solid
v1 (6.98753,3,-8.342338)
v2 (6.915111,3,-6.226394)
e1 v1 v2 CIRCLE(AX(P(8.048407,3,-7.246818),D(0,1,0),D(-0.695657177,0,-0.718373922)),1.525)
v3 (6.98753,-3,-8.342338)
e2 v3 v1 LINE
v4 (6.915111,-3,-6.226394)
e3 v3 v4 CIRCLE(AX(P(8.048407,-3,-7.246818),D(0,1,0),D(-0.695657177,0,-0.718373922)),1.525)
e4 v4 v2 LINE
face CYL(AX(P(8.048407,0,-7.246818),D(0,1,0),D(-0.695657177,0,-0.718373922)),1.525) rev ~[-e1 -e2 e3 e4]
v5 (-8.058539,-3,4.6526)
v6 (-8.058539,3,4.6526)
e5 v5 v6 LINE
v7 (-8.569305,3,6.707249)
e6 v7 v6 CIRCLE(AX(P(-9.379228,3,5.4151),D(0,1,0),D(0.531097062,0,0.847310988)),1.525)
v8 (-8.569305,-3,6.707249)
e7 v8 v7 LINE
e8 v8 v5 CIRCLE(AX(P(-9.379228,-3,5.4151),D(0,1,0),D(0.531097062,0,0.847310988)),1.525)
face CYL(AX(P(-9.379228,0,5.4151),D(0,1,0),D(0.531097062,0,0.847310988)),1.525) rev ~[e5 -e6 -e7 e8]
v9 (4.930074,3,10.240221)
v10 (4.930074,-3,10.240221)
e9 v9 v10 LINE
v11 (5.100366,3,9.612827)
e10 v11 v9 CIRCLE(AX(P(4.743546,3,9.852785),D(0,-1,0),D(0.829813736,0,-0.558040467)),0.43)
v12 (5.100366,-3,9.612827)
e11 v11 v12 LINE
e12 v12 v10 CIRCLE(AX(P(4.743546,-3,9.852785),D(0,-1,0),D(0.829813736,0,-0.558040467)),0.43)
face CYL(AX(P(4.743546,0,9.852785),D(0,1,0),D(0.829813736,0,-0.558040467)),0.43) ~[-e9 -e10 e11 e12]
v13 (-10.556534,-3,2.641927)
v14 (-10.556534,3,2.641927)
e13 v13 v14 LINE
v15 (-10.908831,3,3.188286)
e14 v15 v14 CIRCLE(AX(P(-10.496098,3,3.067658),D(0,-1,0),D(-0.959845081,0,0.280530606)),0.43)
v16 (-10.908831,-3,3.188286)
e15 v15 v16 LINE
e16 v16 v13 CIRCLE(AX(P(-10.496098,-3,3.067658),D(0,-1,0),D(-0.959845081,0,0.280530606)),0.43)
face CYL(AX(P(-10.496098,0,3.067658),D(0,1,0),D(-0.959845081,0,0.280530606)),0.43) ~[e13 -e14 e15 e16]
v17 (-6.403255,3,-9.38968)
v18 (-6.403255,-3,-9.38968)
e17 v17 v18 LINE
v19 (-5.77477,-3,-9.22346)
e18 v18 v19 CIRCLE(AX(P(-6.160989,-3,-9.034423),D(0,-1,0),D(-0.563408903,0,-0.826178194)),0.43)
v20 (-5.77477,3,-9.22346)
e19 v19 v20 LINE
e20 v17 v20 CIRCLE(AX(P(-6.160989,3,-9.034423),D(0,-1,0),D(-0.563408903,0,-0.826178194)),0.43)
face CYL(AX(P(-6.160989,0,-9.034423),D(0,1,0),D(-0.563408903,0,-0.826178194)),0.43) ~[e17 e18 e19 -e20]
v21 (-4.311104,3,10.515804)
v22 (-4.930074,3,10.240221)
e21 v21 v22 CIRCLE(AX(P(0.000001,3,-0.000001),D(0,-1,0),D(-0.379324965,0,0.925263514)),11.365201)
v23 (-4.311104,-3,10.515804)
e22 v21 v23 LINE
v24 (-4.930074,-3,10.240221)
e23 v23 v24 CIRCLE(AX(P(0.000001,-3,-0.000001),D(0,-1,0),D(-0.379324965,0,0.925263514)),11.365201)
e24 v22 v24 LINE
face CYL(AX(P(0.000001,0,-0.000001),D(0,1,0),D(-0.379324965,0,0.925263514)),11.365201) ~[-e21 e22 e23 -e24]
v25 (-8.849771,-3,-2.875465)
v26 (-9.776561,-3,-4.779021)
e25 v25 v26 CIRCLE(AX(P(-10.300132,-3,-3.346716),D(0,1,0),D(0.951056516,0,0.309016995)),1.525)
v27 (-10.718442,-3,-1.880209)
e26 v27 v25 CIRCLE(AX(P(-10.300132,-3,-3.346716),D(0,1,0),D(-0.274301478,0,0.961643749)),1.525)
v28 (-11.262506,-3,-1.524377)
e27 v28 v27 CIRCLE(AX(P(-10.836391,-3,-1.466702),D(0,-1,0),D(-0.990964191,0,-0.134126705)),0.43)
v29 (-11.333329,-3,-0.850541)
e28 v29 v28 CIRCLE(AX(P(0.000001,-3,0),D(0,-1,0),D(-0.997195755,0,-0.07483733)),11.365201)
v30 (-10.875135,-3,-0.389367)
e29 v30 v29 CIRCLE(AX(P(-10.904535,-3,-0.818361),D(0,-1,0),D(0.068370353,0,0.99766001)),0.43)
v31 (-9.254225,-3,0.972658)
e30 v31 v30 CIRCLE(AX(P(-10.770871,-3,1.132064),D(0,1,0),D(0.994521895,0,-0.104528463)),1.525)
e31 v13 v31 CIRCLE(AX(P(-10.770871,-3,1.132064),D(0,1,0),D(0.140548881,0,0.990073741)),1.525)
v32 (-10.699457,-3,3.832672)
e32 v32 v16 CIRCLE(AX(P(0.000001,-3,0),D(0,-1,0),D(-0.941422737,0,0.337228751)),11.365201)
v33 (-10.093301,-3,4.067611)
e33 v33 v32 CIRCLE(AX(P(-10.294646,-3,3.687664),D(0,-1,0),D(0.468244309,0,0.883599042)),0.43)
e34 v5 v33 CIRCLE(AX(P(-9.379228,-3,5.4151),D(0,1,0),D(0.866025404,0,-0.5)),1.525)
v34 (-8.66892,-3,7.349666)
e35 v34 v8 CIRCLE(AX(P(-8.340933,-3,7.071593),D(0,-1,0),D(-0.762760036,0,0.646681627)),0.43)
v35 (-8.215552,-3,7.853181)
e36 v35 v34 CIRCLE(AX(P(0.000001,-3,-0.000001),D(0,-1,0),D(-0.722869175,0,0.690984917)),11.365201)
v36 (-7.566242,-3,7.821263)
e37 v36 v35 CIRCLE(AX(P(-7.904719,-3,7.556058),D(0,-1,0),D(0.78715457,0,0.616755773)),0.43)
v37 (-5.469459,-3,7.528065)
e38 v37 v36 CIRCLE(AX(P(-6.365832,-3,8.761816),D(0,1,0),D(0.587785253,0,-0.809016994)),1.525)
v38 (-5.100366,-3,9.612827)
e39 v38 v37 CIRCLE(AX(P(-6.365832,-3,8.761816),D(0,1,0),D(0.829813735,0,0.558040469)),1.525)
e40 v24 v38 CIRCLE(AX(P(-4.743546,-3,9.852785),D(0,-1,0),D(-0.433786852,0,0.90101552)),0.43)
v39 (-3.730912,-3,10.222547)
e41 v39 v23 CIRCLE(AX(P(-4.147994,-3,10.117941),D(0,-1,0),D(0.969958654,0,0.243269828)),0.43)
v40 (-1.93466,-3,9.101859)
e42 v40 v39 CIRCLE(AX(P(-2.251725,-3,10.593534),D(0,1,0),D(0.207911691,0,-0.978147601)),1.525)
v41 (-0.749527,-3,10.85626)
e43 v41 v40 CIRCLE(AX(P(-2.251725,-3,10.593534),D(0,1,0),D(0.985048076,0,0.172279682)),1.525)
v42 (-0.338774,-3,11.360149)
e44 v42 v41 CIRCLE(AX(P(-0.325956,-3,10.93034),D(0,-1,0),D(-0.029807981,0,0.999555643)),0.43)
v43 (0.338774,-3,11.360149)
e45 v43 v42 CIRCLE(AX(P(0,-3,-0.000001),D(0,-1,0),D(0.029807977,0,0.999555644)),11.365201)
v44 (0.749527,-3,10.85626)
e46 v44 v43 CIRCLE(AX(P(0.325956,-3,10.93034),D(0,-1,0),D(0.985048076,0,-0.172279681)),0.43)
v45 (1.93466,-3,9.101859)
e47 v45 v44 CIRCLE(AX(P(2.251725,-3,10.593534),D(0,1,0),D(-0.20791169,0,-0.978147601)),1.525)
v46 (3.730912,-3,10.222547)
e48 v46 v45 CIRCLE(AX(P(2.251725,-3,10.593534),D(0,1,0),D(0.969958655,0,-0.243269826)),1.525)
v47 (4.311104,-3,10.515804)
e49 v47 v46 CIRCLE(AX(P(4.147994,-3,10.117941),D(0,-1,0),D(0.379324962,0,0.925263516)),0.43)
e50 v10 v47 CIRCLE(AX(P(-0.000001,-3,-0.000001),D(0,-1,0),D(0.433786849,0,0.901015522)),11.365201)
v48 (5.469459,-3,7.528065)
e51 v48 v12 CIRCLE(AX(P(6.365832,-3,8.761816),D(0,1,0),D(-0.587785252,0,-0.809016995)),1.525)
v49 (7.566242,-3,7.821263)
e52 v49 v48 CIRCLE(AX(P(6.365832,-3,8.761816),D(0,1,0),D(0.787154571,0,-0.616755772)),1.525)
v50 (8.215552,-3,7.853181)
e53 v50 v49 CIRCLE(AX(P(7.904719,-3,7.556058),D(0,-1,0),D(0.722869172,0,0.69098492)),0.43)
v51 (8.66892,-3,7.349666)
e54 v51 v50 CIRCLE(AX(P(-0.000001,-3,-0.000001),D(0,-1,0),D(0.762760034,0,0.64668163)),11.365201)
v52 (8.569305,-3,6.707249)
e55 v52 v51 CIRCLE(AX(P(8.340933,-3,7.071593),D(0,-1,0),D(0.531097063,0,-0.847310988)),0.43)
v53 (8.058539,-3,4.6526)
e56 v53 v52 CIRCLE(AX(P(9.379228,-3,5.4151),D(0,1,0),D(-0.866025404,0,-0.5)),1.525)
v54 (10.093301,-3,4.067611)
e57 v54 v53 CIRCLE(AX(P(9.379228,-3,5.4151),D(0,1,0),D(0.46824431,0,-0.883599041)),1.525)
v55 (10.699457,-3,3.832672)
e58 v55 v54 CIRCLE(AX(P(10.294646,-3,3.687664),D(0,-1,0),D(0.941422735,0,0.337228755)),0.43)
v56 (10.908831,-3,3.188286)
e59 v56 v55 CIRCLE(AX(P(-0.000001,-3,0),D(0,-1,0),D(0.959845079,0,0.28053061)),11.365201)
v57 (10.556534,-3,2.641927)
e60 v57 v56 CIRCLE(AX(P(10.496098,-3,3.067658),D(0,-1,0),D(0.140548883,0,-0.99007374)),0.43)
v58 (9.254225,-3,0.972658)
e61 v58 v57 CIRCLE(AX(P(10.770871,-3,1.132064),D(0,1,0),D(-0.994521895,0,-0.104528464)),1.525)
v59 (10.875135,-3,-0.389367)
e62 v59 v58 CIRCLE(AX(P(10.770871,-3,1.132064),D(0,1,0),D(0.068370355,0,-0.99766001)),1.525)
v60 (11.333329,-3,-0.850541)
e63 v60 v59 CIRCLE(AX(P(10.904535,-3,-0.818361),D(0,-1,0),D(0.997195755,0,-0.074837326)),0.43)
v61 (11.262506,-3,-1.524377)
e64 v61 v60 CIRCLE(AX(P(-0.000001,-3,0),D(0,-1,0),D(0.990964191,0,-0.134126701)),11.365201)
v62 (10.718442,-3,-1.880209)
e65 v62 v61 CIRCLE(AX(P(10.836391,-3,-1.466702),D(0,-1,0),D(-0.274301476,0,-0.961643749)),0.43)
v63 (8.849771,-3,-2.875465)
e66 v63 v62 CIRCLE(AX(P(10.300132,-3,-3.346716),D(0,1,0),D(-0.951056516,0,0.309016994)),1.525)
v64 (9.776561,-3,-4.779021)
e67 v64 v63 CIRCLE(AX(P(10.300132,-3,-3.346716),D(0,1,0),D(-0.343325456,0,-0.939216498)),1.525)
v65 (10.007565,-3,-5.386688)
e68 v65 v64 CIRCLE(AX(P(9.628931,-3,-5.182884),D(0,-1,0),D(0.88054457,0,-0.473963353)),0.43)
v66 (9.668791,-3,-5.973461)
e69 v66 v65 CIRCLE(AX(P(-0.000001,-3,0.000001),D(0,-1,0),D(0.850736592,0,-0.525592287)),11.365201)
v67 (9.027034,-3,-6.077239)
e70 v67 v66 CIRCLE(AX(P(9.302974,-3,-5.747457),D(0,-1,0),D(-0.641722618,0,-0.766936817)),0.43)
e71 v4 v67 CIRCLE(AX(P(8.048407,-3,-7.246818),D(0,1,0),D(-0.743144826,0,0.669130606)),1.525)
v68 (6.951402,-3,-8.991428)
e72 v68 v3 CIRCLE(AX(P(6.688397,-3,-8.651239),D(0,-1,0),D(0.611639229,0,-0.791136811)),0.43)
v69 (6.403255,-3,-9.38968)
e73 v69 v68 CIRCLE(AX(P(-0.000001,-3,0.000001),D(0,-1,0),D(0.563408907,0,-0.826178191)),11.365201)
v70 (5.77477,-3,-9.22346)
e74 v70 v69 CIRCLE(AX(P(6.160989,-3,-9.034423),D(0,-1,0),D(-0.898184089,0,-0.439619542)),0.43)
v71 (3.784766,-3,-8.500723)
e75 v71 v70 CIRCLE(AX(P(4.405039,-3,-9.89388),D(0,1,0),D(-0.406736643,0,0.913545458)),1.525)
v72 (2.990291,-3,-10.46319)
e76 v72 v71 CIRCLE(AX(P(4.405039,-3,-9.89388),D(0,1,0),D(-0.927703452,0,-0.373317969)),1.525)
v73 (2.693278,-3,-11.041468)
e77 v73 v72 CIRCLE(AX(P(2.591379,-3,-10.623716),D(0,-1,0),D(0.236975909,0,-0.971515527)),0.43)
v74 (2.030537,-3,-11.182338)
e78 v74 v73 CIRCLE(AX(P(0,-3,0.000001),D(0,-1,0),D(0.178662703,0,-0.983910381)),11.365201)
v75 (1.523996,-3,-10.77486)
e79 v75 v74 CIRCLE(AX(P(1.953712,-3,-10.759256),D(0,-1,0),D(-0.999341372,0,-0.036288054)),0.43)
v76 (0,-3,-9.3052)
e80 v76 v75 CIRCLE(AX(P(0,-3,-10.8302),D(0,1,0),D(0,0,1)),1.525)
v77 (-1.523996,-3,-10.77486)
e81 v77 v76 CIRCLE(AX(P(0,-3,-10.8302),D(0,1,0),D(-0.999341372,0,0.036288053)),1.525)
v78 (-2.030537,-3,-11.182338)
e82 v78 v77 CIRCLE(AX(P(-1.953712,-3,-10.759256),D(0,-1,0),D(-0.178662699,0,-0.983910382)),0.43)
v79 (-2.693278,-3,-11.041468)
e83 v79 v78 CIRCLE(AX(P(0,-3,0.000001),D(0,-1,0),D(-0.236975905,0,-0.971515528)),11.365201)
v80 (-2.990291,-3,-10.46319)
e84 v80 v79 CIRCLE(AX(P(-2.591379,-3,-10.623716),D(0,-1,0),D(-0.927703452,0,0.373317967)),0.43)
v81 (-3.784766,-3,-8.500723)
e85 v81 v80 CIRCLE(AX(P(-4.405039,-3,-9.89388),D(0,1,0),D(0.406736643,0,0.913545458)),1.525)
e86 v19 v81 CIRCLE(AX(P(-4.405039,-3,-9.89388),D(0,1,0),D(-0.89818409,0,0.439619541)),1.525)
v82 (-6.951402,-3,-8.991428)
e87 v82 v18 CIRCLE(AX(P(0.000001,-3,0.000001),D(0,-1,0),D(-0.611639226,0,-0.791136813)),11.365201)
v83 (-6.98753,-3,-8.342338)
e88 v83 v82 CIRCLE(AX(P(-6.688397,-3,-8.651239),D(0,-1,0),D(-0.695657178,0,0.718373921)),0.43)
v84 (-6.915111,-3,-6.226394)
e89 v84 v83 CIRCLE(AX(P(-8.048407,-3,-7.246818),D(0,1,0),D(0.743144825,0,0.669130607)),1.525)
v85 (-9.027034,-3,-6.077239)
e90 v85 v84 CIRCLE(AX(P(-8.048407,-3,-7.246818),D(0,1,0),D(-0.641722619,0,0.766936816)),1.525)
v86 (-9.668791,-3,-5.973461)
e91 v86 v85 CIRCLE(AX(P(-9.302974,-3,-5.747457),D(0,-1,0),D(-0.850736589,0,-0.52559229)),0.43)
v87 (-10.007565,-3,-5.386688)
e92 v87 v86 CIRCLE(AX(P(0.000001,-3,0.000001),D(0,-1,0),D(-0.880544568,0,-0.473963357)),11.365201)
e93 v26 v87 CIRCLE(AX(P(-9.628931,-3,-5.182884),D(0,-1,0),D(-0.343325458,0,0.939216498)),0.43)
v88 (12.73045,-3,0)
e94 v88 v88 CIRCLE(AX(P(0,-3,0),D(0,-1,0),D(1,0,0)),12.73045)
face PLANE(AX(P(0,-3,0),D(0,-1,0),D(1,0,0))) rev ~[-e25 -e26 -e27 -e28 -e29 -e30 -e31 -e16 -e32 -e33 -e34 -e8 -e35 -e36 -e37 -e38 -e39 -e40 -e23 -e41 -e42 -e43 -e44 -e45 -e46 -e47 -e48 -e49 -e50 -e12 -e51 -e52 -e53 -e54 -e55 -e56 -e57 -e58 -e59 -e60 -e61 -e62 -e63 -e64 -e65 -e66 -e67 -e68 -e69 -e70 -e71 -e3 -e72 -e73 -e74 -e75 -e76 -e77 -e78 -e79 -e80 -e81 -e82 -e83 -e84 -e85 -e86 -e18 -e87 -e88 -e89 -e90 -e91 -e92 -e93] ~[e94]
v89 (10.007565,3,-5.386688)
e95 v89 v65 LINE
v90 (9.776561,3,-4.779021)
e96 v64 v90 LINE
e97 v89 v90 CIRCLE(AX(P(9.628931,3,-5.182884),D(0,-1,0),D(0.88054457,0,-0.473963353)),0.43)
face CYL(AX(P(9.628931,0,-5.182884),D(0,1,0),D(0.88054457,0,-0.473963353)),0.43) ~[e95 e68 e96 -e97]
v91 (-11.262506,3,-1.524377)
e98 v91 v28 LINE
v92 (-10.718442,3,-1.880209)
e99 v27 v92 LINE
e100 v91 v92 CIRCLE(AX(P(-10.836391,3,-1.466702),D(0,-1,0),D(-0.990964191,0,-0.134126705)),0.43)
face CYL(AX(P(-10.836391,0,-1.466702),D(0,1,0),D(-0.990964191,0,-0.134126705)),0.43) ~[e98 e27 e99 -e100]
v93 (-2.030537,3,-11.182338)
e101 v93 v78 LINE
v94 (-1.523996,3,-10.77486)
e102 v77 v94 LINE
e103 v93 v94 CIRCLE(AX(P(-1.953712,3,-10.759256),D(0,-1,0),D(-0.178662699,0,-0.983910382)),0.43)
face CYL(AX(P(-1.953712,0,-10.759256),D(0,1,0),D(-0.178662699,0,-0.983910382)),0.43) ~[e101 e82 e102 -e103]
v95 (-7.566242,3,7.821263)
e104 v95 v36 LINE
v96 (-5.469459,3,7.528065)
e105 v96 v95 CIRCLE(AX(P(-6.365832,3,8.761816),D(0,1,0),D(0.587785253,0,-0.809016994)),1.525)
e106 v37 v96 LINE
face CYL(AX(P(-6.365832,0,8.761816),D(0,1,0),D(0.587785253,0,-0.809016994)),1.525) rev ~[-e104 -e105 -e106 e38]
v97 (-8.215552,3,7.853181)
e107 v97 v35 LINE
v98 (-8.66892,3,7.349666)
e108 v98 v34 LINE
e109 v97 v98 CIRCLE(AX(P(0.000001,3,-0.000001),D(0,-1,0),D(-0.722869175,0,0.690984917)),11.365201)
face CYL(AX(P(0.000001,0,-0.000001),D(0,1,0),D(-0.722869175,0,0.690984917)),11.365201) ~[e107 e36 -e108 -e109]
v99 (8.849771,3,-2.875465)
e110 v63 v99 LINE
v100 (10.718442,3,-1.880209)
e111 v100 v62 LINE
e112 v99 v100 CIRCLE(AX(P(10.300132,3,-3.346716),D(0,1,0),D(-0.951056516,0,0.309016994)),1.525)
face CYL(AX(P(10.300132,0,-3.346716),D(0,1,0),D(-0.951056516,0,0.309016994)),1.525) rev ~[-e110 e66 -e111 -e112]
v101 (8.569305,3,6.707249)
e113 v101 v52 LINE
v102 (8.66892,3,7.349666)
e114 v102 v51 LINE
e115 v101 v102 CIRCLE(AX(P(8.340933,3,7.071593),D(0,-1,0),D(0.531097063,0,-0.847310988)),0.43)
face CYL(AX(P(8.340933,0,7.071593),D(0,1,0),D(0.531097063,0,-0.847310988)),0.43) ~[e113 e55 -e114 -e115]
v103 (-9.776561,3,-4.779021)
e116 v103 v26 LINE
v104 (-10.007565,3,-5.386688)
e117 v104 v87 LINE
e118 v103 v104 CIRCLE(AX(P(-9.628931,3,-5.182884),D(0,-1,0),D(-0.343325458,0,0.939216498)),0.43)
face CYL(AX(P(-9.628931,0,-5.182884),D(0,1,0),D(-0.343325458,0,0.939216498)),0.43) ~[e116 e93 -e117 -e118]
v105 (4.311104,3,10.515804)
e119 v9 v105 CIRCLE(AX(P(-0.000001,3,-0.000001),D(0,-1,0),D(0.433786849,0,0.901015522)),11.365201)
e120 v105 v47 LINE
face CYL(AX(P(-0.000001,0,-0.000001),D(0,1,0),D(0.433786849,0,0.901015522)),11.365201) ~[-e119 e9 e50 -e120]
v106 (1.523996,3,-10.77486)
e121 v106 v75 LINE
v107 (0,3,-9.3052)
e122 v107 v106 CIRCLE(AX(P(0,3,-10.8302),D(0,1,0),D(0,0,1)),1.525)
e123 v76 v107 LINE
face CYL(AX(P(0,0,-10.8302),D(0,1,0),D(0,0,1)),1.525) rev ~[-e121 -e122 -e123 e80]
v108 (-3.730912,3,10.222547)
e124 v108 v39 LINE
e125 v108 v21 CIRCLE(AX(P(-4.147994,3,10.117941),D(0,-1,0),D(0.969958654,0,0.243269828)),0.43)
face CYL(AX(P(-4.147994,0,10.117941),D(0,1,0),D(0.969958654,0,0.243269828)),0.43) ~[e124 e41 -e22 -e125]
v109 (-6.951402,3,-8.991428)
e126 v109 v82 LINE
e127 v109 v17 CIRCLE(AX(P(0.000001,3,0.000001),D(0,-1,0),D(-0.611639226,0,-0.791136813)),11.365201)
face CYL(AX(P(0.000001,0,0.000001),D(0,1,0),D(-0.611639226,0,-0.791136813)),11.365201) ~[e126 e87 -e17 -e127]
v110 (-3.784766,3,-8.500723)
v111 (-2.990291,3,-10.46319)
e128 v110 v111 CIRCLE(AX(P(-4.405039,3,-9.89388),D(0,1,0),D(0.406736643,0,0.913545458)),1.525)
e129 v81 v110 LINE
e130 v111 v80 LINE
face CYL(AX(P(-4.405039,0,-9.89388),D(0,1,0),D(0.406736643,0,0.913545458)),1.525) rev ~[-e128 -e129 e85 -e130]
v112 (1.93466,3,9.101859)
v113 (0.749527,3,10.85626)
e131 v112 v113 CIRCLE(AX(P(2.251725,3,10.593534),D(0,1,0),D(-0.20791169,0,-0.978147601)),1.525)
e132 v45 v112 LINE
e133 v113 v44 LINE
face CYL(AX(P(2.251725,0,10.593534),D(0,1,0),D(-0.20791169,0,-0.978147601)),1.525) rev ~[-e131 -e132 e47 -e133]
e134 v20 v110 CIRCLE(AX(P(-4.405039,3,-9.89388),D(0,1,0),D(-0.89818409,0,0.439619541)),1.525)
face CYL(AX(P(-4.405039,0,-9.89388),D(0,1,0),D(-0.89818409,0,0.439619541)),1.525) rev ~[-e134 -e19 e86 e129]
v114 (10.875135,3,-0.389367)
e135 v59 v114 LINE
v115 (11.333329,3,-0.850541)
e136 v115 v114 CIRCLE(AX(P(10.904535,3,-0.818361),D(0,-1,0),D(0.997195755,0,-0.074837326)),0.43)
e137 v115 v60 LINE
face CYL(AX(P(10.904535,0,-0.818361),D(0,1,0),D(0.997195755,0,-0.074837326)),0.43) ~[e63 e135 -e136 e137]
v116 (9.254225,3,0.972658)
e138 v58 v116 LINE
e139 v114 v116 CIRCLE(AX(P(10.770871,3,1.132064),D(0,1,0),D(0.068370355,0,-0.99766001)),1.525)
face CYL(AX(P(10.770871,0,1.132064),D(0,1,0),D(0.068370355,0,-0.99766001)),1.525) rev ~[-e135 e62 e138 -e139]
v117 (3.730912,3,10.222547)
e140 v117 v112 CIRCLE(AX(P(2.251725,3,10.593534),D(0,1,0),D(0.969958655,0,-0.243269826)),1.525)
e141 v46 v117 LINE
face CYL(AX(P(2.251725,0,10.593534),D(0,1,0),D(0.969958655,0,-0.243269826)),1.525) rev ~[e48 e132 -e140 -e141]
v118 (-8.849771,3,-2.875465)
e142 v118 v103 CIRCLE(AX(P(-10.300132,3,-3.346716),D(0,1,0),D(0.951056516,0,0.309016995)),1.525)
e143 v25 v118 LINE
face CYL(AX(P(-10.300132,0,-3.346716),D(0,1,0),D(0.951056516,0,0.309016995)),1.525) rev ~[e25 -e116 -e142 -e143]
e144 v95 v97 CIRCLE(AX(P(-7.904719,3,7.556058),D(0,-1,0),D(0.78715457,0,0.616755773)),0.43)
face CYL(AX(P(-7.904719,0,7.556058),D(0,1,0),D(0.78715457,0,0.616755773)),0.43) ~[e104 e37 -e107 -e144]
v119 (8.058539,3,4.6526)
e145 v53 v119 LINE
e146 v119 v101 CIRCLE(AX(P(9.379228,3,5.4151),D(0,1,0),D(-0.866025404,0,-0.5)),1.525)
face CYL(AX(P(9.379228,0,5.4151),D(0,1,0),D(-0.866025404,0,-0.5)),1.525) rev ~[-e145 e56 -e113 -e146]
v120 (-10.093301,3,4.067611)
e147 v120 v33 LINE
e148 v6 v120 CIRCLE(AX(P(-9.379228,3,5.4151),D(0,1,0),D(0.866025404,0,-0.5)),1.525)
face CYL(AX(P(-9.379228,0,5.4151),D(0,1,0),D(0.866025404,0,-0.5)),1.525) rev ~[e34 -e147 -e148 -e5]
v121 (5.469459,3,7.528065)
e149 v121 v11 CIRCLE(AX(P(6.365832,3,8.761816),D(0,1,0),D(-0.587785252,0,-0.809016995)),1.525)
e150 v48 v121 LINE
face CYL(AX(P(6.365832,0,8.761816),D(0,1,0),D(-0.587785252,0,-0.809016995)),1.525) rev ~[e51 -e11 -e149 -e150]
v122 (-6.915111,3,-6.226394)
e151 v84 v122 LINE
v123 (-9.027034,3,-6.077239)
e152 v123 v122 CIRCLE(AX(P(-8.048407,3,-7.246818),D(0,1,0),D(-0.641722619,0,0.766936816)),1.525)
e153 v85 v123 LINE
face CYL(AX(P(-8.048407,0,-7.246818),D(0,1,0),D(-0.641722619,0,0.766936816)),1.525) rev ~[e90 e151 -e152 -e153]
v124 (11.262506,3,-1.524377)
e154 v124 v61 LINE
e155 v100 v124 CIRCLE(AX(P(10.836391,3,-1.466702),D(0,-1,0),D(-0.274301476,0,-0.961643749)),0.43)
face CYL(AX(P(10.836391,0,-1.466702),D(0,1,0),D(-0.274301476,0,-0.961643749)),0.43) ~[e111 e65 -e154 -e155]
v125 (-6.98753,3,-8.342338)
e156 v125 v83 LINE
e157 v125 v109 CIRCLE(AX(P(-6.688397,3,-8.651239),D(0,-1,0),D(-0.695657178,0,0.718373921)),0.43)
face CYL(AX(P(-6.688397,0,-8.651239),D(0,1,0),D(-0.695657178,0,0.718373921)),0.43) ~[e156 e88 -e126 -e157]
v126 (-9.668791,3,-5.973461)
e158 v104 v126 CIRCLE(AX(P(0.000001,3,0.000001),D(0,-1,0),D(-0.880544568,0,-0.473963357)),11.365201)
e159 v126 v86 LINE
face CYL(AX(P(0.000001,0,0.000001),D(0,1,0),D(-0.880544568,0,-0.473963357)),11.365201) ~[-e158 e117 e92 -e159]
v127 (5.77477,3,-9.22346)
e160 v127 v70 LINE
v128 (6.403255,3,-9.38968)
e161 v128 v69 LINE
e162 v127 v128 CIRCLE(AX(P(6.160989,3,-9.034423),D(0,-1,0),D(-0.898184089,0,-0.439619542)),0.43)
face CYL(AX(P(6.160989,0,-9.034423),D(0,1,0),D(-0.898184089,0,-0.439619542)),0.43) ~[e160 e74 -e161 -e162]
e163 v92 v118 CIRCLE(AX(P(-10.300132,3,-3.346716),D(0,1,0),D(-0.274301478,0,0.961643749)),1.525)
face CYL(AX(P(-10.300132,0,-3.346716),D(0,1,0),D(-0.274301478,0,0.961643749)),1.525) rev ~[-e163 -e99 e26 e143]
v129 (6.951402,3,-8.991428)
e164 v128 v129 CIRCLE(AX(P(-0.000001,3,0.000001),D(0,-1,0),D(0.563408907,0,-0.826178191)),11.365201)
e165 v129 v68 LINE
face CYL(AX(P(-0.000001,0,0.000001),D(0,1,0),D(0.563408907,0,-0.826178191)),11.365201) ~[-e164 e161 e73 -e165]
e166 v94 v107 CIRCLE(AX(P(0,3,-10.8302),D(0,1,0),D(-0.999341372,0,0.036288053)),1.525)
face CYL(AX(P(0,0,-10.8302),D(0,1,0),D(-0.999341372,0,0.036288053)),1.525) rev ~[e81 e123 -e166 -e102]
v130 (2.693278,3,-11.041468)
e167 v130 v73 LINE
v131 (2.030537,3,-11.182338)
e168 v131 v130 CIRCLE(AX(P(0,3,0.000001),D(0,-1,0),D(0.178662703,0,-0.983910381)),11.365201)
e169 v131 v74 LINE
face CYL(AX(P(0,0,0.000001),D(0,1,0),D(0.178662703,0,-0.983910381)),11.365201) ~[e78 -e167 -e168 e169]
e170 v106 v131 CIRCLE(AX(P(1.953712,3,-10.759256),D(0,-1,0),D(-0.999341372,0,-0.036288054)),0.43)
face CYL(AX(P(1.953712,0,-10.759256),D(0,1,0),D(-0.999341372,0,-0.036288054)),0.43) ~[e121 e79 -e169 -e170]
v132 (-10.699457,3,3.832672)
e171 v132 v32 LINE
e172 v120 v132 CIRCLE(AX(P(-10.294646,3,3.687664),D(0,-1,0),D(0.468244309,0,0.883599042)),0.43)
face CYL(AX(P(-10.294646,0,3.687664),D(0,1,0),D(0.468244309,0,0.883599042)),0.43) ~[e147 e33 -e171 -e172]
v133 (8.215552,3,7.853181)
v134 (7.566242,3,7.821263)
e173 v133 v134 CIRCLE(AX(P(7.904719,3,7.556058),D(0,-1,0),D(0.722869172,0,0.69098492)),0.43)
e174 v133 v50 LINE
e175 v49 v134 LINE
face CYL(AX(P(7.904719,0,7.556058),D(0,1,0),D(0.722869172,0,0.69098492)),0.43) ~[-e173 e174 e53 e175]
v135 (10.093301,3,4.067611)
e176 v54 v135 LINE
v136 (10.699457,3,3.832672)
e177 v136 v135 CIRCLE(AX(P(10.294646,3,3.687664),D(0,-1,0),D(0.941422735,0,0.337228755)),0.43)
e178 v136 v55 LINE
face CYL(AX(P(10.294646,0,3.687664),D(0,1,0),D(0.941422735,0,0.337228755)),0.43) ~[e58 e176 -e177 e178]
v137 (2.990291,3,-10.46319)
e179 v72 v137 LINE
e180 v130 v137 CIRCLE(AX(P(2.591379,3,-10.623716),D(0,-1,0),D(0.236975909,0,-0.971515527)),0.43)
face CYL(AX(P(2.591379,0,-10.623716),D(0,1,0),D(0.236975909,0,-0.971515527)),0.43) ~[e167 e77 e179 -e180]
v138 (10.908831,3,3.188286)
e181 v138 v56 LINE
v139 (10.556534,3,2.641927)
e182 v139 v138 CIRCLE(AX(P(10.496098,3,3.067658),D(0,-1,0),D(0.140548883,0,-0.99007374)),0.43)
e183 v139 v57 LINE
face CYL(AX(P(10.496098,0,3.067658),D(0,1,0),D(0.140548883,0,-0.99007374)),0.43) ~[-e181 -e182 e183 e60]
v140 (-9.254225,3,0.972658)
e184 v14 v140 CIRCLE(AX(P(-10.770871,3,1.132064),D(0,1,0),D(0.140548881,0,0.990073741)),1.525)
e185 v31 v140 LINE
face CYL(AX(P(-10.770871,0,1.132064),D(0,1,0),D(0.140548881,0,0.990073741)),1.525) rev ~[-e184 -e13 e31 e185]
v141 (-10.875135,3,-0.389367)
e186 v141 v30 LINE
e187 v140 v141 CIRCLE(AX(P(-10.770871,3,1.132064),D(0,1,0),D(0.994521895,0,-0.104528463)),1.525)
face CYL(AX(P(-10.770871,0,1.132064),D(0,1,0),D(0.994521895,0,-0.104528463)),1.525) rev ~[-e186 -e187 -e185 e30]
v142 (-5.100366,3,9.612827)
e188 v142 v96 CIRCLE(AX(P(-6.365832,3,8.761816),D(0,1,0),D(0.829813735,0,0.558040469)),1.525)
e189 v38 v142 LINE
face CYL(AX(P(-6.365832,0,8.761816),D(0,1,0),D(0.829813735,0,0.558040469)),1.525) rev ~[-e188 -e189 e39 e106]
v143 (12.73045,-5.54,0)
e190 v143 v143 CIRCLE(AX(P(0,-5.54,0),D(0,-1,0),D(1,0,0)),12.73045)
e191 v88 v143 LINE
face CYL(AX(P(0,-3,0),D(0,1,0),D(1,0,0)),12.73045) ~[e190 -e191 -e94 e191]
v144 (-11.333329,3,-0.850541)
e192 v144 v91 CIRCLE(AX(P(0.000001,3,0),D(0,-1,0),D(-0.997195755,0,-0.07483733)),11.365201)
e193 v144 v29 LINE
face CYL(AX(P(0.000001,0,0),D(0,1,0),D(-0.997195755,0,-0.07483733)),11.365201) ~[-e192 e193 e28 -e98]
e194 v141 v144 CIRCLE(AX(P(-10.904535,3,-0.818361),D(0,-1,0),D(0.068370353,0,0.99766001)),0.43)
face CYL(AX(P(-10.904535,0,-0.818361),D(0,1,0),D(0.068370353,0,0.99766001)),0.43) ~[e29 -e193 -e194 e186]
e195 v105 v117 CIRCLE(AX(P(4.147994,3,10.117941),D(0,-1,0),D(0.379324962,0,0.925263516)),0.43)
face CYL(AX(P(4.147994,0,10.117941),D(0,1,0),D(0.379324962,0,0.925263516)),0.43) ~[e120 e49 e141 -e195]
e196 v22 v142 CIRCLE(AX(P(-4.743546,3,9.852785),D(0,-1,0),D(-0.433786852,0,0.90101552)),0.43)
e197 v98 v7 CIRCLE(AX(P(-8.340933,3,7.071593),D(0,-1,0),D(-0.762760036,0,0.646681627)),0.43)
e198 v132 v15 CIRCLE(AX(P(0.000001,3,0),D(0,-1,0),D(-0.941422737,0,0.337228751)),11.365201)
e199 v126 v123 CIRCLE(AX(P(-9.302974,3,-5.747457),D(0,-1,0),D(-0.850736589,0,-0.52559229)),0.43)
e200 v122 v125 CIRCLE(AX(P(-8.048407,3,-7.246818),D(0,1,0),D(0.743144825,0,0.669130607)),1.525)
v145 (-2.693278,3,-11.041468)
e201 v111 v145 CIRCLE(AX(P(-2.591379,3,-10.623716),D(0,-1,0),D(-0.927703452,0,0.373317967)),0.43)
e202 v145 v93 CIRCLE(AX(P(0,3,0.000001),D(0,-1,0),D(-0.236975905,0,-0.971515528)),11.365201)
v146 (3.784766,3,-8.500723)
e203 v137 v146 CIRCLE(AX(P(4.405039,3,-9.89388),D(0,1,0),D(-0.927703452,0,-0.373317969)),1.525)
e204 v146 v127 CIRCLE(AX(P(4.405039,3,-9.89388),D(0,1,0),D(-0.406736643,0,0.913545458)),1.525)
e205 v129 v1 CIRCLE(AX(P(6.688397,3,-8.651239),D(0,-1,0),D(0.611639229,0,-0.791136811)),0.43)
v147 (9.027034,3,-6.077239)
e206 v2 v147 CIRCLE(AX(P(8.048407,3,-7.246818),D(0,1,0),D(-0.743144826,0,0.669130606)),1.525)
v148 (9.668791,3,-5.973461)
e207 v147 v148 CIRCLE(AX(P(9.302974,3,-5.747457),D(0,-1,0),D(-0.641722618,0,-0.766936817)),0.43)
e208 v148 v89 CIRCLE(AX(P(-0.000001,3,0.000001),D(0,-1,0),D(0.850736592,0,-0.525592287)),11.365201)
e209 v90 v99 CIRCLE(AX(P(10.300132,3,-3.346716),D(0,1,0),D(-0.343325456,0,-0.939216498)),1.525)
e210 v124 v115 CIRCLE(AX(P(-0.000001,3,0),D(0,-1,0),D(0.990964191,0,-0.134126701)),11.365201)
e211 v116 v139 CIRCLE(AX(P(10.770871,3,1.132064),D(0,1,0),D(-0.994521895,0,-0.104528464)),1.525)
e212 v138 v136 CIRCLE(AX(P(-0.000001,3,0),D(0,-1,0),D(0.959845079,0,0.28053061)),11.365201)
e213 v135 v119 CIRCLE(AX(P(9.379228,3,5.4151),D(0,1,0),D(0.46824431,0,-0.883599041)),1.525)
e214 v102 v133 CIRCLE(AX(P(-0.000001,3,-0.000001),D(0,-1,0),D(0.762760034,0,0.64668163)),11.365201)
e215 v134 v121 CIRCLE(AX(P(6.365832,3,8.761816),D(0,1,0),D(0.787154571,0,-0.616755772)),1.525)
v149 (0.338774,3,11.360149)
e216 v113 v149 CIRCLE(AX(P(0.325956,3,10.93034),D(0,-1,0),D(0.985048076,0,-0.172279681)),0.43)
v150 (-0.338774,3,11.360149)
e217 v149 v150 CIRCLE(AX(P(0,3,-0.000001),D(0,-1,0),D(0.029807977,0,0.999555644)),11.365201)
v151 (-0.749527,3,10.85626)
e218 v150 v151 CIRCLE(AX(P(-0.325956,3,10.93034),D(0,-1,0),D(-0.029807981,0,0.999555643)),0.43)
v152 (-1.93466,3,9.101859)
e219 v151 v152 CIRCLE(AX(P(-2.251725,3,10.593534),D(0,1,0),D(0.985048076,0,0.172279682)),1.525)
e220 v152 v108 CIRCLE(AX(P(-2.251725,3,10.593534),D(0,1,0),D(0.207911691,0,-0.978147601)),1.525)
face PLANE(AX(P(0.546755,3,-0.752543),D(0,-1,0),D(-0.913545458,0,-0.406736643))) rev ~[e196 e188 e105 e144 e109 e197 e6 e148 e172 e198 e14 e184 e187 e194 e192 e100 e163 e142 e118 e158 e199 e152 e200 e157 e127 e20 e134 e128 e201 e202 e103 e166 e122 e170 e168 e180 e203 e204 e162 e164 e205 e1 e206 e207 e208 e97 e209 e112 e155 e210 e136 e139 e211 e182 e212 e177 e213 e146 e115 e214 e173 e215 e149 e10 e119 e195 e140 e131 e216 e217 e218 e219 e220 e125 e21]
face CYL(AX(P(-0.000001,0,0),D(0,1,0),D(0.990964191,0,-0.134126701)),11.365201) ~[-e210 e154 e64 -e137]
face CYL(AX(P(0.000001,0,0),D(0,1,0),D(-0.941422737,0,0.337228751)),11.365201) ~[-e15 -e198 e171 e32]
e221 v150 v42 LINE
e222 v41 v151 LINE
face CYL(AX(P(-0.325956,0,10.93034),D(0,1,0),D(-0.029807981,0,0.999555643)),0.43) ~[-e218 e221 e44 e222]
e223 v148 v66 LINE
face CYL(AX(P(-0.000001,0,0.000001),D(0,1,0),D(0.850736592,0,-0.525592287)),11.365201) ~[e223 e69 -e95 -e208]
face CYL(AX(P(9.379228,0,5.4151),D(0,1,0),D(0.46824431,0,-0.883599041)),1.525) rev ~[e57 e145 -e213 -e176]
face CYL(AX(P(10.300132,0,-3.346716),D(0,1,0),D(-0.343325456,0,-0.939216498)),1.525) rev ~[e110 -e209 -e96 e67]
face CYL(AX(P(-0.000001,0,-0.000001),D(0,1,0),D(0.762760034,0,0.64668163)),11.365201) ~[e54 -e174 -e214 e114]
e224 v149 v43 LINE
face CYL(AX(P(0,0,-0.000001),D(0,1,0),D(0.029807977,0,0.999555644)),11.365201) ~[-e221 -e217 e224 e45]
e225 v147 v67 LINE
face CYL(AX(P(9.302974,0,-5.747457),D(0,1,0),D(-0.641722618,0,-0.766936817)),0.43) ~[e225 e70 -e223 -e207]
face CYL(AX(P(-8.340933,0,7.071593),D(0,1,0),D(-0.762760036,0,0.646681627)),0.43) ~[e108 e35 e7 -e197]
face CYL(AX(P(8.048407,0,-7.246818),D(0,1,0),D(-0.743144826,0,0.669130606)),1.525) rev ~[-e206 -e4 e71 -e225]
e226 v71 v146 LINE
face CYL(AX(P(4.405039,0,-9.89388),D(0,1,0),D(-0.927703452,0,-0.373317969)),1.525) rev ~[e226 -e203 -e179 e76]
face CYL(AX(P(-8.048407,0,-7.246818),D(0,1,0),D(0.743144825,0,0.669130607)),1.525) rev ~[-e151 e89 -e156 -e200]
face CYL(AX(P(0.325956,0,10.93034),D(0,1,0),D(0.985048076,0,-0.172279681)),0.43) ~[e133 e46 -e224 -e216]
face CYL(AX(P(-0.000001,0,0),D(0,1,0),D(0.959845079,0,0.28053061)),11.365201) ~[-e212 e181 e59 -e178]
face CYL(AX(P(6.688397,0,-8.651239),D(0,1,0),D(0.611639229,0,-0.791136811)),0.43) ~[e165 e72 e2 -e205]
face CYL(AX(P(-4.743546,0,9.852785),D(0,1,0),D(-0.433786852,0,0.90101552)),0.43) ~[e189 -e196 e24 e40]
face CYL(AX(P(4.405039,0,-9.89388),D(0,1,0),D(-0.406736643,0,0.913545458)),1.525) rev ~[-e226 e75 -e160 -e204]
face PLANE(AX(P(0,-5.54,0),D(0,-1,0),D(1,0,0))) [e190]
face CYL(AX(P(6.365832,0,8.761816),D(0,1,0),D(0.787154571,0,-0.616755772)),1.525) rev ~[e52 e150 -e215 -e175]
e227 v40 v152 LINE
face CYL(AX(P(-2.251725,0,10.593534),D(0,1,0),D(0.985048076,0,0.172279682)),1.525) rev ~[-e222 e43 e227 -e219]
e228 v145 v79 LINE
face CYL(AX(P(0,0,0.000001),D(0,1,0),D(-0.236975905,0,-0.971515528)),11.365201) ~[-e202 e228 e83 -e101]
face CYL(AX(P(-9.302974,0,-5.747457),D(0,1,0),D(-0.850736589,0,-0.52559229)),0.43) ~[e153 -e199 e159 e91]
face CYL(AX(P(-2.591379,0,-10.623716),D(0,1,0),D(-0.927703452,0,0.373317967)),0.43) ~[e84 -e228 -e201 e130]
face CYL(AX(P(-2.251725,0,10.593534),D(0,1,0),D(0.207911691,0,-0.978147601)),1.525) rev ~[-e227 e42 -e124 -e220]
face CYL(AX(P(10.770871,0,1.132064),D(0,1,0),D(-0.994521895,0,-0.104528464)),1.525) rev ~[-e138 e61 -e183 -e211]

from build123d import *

# Parameters (mm, degrees)
BOSS_EXTRUDE1_DEPTH = 3
CIRPATTERN1_COUNT   = 15
SKETCH2_R           = 12.73044952
BOSS_EXTRUDE2_DEPTH = 2.54


with BuildPart() as part:
    # Sketch1 → Boss-Extrude1 (new, symmetric)
    with BuildSketch(Plane(origin=(0, 0, 0), x_dir=(1, 0, 0), z_dir=(0, 1, 0))):
        with BuildLine():
            ThreePointArc((0, 9.305199576), (1.058591657, 9.732470692), (1.52399559, 10.774860293))
            ThreePointArc((1.52399559, 10.774860293), (1.684189321, 11.094304623), (2.030537225, 11.182337802))
            ThreePointArc((2.030537225, 11.182337802), (2.362957849, 11.116842642), (2.693278481, 11.041467799))
            ThreePointArc((2.693278481, 11.041467799), (2.973876716, 10.820173105), (2.990291257, 10.463189528))
            ThreePointArc((2.990291257, 10.463189528), (2.991480859, 9.321622409), (3.784765639, 8.500722805))
            ThreePointArc((3.784765639, 8.500722805), (-1.934659777, -9.10185864), (0, 9.305199576))
        make_face()
    boss_extrude1 = extrude(amount=BOSS_EXTRUDE1_DEPTH, both=True)

    # CirPattern1: Boss-Extrude1 ×15 about axis
    cirpattern1_axis = Axis((0, 3.3, 0), (0, -1, 0))
    for i in range(1, CIRPATTERN1_COUNT):
        add(boss_extrude1.rotate(cirpattern1_axis, i * 360 / CIRPATTERN1_COUNT))

    # Sketch2 → Boss-Extrude2 (add)
    with BuildSketch(Plane.XZ.offset(3)):
        Circle(SKETCH2_R)
    extrude(amount=BOSS_EXTRUDE2_DEPTH)


solid = part.part
